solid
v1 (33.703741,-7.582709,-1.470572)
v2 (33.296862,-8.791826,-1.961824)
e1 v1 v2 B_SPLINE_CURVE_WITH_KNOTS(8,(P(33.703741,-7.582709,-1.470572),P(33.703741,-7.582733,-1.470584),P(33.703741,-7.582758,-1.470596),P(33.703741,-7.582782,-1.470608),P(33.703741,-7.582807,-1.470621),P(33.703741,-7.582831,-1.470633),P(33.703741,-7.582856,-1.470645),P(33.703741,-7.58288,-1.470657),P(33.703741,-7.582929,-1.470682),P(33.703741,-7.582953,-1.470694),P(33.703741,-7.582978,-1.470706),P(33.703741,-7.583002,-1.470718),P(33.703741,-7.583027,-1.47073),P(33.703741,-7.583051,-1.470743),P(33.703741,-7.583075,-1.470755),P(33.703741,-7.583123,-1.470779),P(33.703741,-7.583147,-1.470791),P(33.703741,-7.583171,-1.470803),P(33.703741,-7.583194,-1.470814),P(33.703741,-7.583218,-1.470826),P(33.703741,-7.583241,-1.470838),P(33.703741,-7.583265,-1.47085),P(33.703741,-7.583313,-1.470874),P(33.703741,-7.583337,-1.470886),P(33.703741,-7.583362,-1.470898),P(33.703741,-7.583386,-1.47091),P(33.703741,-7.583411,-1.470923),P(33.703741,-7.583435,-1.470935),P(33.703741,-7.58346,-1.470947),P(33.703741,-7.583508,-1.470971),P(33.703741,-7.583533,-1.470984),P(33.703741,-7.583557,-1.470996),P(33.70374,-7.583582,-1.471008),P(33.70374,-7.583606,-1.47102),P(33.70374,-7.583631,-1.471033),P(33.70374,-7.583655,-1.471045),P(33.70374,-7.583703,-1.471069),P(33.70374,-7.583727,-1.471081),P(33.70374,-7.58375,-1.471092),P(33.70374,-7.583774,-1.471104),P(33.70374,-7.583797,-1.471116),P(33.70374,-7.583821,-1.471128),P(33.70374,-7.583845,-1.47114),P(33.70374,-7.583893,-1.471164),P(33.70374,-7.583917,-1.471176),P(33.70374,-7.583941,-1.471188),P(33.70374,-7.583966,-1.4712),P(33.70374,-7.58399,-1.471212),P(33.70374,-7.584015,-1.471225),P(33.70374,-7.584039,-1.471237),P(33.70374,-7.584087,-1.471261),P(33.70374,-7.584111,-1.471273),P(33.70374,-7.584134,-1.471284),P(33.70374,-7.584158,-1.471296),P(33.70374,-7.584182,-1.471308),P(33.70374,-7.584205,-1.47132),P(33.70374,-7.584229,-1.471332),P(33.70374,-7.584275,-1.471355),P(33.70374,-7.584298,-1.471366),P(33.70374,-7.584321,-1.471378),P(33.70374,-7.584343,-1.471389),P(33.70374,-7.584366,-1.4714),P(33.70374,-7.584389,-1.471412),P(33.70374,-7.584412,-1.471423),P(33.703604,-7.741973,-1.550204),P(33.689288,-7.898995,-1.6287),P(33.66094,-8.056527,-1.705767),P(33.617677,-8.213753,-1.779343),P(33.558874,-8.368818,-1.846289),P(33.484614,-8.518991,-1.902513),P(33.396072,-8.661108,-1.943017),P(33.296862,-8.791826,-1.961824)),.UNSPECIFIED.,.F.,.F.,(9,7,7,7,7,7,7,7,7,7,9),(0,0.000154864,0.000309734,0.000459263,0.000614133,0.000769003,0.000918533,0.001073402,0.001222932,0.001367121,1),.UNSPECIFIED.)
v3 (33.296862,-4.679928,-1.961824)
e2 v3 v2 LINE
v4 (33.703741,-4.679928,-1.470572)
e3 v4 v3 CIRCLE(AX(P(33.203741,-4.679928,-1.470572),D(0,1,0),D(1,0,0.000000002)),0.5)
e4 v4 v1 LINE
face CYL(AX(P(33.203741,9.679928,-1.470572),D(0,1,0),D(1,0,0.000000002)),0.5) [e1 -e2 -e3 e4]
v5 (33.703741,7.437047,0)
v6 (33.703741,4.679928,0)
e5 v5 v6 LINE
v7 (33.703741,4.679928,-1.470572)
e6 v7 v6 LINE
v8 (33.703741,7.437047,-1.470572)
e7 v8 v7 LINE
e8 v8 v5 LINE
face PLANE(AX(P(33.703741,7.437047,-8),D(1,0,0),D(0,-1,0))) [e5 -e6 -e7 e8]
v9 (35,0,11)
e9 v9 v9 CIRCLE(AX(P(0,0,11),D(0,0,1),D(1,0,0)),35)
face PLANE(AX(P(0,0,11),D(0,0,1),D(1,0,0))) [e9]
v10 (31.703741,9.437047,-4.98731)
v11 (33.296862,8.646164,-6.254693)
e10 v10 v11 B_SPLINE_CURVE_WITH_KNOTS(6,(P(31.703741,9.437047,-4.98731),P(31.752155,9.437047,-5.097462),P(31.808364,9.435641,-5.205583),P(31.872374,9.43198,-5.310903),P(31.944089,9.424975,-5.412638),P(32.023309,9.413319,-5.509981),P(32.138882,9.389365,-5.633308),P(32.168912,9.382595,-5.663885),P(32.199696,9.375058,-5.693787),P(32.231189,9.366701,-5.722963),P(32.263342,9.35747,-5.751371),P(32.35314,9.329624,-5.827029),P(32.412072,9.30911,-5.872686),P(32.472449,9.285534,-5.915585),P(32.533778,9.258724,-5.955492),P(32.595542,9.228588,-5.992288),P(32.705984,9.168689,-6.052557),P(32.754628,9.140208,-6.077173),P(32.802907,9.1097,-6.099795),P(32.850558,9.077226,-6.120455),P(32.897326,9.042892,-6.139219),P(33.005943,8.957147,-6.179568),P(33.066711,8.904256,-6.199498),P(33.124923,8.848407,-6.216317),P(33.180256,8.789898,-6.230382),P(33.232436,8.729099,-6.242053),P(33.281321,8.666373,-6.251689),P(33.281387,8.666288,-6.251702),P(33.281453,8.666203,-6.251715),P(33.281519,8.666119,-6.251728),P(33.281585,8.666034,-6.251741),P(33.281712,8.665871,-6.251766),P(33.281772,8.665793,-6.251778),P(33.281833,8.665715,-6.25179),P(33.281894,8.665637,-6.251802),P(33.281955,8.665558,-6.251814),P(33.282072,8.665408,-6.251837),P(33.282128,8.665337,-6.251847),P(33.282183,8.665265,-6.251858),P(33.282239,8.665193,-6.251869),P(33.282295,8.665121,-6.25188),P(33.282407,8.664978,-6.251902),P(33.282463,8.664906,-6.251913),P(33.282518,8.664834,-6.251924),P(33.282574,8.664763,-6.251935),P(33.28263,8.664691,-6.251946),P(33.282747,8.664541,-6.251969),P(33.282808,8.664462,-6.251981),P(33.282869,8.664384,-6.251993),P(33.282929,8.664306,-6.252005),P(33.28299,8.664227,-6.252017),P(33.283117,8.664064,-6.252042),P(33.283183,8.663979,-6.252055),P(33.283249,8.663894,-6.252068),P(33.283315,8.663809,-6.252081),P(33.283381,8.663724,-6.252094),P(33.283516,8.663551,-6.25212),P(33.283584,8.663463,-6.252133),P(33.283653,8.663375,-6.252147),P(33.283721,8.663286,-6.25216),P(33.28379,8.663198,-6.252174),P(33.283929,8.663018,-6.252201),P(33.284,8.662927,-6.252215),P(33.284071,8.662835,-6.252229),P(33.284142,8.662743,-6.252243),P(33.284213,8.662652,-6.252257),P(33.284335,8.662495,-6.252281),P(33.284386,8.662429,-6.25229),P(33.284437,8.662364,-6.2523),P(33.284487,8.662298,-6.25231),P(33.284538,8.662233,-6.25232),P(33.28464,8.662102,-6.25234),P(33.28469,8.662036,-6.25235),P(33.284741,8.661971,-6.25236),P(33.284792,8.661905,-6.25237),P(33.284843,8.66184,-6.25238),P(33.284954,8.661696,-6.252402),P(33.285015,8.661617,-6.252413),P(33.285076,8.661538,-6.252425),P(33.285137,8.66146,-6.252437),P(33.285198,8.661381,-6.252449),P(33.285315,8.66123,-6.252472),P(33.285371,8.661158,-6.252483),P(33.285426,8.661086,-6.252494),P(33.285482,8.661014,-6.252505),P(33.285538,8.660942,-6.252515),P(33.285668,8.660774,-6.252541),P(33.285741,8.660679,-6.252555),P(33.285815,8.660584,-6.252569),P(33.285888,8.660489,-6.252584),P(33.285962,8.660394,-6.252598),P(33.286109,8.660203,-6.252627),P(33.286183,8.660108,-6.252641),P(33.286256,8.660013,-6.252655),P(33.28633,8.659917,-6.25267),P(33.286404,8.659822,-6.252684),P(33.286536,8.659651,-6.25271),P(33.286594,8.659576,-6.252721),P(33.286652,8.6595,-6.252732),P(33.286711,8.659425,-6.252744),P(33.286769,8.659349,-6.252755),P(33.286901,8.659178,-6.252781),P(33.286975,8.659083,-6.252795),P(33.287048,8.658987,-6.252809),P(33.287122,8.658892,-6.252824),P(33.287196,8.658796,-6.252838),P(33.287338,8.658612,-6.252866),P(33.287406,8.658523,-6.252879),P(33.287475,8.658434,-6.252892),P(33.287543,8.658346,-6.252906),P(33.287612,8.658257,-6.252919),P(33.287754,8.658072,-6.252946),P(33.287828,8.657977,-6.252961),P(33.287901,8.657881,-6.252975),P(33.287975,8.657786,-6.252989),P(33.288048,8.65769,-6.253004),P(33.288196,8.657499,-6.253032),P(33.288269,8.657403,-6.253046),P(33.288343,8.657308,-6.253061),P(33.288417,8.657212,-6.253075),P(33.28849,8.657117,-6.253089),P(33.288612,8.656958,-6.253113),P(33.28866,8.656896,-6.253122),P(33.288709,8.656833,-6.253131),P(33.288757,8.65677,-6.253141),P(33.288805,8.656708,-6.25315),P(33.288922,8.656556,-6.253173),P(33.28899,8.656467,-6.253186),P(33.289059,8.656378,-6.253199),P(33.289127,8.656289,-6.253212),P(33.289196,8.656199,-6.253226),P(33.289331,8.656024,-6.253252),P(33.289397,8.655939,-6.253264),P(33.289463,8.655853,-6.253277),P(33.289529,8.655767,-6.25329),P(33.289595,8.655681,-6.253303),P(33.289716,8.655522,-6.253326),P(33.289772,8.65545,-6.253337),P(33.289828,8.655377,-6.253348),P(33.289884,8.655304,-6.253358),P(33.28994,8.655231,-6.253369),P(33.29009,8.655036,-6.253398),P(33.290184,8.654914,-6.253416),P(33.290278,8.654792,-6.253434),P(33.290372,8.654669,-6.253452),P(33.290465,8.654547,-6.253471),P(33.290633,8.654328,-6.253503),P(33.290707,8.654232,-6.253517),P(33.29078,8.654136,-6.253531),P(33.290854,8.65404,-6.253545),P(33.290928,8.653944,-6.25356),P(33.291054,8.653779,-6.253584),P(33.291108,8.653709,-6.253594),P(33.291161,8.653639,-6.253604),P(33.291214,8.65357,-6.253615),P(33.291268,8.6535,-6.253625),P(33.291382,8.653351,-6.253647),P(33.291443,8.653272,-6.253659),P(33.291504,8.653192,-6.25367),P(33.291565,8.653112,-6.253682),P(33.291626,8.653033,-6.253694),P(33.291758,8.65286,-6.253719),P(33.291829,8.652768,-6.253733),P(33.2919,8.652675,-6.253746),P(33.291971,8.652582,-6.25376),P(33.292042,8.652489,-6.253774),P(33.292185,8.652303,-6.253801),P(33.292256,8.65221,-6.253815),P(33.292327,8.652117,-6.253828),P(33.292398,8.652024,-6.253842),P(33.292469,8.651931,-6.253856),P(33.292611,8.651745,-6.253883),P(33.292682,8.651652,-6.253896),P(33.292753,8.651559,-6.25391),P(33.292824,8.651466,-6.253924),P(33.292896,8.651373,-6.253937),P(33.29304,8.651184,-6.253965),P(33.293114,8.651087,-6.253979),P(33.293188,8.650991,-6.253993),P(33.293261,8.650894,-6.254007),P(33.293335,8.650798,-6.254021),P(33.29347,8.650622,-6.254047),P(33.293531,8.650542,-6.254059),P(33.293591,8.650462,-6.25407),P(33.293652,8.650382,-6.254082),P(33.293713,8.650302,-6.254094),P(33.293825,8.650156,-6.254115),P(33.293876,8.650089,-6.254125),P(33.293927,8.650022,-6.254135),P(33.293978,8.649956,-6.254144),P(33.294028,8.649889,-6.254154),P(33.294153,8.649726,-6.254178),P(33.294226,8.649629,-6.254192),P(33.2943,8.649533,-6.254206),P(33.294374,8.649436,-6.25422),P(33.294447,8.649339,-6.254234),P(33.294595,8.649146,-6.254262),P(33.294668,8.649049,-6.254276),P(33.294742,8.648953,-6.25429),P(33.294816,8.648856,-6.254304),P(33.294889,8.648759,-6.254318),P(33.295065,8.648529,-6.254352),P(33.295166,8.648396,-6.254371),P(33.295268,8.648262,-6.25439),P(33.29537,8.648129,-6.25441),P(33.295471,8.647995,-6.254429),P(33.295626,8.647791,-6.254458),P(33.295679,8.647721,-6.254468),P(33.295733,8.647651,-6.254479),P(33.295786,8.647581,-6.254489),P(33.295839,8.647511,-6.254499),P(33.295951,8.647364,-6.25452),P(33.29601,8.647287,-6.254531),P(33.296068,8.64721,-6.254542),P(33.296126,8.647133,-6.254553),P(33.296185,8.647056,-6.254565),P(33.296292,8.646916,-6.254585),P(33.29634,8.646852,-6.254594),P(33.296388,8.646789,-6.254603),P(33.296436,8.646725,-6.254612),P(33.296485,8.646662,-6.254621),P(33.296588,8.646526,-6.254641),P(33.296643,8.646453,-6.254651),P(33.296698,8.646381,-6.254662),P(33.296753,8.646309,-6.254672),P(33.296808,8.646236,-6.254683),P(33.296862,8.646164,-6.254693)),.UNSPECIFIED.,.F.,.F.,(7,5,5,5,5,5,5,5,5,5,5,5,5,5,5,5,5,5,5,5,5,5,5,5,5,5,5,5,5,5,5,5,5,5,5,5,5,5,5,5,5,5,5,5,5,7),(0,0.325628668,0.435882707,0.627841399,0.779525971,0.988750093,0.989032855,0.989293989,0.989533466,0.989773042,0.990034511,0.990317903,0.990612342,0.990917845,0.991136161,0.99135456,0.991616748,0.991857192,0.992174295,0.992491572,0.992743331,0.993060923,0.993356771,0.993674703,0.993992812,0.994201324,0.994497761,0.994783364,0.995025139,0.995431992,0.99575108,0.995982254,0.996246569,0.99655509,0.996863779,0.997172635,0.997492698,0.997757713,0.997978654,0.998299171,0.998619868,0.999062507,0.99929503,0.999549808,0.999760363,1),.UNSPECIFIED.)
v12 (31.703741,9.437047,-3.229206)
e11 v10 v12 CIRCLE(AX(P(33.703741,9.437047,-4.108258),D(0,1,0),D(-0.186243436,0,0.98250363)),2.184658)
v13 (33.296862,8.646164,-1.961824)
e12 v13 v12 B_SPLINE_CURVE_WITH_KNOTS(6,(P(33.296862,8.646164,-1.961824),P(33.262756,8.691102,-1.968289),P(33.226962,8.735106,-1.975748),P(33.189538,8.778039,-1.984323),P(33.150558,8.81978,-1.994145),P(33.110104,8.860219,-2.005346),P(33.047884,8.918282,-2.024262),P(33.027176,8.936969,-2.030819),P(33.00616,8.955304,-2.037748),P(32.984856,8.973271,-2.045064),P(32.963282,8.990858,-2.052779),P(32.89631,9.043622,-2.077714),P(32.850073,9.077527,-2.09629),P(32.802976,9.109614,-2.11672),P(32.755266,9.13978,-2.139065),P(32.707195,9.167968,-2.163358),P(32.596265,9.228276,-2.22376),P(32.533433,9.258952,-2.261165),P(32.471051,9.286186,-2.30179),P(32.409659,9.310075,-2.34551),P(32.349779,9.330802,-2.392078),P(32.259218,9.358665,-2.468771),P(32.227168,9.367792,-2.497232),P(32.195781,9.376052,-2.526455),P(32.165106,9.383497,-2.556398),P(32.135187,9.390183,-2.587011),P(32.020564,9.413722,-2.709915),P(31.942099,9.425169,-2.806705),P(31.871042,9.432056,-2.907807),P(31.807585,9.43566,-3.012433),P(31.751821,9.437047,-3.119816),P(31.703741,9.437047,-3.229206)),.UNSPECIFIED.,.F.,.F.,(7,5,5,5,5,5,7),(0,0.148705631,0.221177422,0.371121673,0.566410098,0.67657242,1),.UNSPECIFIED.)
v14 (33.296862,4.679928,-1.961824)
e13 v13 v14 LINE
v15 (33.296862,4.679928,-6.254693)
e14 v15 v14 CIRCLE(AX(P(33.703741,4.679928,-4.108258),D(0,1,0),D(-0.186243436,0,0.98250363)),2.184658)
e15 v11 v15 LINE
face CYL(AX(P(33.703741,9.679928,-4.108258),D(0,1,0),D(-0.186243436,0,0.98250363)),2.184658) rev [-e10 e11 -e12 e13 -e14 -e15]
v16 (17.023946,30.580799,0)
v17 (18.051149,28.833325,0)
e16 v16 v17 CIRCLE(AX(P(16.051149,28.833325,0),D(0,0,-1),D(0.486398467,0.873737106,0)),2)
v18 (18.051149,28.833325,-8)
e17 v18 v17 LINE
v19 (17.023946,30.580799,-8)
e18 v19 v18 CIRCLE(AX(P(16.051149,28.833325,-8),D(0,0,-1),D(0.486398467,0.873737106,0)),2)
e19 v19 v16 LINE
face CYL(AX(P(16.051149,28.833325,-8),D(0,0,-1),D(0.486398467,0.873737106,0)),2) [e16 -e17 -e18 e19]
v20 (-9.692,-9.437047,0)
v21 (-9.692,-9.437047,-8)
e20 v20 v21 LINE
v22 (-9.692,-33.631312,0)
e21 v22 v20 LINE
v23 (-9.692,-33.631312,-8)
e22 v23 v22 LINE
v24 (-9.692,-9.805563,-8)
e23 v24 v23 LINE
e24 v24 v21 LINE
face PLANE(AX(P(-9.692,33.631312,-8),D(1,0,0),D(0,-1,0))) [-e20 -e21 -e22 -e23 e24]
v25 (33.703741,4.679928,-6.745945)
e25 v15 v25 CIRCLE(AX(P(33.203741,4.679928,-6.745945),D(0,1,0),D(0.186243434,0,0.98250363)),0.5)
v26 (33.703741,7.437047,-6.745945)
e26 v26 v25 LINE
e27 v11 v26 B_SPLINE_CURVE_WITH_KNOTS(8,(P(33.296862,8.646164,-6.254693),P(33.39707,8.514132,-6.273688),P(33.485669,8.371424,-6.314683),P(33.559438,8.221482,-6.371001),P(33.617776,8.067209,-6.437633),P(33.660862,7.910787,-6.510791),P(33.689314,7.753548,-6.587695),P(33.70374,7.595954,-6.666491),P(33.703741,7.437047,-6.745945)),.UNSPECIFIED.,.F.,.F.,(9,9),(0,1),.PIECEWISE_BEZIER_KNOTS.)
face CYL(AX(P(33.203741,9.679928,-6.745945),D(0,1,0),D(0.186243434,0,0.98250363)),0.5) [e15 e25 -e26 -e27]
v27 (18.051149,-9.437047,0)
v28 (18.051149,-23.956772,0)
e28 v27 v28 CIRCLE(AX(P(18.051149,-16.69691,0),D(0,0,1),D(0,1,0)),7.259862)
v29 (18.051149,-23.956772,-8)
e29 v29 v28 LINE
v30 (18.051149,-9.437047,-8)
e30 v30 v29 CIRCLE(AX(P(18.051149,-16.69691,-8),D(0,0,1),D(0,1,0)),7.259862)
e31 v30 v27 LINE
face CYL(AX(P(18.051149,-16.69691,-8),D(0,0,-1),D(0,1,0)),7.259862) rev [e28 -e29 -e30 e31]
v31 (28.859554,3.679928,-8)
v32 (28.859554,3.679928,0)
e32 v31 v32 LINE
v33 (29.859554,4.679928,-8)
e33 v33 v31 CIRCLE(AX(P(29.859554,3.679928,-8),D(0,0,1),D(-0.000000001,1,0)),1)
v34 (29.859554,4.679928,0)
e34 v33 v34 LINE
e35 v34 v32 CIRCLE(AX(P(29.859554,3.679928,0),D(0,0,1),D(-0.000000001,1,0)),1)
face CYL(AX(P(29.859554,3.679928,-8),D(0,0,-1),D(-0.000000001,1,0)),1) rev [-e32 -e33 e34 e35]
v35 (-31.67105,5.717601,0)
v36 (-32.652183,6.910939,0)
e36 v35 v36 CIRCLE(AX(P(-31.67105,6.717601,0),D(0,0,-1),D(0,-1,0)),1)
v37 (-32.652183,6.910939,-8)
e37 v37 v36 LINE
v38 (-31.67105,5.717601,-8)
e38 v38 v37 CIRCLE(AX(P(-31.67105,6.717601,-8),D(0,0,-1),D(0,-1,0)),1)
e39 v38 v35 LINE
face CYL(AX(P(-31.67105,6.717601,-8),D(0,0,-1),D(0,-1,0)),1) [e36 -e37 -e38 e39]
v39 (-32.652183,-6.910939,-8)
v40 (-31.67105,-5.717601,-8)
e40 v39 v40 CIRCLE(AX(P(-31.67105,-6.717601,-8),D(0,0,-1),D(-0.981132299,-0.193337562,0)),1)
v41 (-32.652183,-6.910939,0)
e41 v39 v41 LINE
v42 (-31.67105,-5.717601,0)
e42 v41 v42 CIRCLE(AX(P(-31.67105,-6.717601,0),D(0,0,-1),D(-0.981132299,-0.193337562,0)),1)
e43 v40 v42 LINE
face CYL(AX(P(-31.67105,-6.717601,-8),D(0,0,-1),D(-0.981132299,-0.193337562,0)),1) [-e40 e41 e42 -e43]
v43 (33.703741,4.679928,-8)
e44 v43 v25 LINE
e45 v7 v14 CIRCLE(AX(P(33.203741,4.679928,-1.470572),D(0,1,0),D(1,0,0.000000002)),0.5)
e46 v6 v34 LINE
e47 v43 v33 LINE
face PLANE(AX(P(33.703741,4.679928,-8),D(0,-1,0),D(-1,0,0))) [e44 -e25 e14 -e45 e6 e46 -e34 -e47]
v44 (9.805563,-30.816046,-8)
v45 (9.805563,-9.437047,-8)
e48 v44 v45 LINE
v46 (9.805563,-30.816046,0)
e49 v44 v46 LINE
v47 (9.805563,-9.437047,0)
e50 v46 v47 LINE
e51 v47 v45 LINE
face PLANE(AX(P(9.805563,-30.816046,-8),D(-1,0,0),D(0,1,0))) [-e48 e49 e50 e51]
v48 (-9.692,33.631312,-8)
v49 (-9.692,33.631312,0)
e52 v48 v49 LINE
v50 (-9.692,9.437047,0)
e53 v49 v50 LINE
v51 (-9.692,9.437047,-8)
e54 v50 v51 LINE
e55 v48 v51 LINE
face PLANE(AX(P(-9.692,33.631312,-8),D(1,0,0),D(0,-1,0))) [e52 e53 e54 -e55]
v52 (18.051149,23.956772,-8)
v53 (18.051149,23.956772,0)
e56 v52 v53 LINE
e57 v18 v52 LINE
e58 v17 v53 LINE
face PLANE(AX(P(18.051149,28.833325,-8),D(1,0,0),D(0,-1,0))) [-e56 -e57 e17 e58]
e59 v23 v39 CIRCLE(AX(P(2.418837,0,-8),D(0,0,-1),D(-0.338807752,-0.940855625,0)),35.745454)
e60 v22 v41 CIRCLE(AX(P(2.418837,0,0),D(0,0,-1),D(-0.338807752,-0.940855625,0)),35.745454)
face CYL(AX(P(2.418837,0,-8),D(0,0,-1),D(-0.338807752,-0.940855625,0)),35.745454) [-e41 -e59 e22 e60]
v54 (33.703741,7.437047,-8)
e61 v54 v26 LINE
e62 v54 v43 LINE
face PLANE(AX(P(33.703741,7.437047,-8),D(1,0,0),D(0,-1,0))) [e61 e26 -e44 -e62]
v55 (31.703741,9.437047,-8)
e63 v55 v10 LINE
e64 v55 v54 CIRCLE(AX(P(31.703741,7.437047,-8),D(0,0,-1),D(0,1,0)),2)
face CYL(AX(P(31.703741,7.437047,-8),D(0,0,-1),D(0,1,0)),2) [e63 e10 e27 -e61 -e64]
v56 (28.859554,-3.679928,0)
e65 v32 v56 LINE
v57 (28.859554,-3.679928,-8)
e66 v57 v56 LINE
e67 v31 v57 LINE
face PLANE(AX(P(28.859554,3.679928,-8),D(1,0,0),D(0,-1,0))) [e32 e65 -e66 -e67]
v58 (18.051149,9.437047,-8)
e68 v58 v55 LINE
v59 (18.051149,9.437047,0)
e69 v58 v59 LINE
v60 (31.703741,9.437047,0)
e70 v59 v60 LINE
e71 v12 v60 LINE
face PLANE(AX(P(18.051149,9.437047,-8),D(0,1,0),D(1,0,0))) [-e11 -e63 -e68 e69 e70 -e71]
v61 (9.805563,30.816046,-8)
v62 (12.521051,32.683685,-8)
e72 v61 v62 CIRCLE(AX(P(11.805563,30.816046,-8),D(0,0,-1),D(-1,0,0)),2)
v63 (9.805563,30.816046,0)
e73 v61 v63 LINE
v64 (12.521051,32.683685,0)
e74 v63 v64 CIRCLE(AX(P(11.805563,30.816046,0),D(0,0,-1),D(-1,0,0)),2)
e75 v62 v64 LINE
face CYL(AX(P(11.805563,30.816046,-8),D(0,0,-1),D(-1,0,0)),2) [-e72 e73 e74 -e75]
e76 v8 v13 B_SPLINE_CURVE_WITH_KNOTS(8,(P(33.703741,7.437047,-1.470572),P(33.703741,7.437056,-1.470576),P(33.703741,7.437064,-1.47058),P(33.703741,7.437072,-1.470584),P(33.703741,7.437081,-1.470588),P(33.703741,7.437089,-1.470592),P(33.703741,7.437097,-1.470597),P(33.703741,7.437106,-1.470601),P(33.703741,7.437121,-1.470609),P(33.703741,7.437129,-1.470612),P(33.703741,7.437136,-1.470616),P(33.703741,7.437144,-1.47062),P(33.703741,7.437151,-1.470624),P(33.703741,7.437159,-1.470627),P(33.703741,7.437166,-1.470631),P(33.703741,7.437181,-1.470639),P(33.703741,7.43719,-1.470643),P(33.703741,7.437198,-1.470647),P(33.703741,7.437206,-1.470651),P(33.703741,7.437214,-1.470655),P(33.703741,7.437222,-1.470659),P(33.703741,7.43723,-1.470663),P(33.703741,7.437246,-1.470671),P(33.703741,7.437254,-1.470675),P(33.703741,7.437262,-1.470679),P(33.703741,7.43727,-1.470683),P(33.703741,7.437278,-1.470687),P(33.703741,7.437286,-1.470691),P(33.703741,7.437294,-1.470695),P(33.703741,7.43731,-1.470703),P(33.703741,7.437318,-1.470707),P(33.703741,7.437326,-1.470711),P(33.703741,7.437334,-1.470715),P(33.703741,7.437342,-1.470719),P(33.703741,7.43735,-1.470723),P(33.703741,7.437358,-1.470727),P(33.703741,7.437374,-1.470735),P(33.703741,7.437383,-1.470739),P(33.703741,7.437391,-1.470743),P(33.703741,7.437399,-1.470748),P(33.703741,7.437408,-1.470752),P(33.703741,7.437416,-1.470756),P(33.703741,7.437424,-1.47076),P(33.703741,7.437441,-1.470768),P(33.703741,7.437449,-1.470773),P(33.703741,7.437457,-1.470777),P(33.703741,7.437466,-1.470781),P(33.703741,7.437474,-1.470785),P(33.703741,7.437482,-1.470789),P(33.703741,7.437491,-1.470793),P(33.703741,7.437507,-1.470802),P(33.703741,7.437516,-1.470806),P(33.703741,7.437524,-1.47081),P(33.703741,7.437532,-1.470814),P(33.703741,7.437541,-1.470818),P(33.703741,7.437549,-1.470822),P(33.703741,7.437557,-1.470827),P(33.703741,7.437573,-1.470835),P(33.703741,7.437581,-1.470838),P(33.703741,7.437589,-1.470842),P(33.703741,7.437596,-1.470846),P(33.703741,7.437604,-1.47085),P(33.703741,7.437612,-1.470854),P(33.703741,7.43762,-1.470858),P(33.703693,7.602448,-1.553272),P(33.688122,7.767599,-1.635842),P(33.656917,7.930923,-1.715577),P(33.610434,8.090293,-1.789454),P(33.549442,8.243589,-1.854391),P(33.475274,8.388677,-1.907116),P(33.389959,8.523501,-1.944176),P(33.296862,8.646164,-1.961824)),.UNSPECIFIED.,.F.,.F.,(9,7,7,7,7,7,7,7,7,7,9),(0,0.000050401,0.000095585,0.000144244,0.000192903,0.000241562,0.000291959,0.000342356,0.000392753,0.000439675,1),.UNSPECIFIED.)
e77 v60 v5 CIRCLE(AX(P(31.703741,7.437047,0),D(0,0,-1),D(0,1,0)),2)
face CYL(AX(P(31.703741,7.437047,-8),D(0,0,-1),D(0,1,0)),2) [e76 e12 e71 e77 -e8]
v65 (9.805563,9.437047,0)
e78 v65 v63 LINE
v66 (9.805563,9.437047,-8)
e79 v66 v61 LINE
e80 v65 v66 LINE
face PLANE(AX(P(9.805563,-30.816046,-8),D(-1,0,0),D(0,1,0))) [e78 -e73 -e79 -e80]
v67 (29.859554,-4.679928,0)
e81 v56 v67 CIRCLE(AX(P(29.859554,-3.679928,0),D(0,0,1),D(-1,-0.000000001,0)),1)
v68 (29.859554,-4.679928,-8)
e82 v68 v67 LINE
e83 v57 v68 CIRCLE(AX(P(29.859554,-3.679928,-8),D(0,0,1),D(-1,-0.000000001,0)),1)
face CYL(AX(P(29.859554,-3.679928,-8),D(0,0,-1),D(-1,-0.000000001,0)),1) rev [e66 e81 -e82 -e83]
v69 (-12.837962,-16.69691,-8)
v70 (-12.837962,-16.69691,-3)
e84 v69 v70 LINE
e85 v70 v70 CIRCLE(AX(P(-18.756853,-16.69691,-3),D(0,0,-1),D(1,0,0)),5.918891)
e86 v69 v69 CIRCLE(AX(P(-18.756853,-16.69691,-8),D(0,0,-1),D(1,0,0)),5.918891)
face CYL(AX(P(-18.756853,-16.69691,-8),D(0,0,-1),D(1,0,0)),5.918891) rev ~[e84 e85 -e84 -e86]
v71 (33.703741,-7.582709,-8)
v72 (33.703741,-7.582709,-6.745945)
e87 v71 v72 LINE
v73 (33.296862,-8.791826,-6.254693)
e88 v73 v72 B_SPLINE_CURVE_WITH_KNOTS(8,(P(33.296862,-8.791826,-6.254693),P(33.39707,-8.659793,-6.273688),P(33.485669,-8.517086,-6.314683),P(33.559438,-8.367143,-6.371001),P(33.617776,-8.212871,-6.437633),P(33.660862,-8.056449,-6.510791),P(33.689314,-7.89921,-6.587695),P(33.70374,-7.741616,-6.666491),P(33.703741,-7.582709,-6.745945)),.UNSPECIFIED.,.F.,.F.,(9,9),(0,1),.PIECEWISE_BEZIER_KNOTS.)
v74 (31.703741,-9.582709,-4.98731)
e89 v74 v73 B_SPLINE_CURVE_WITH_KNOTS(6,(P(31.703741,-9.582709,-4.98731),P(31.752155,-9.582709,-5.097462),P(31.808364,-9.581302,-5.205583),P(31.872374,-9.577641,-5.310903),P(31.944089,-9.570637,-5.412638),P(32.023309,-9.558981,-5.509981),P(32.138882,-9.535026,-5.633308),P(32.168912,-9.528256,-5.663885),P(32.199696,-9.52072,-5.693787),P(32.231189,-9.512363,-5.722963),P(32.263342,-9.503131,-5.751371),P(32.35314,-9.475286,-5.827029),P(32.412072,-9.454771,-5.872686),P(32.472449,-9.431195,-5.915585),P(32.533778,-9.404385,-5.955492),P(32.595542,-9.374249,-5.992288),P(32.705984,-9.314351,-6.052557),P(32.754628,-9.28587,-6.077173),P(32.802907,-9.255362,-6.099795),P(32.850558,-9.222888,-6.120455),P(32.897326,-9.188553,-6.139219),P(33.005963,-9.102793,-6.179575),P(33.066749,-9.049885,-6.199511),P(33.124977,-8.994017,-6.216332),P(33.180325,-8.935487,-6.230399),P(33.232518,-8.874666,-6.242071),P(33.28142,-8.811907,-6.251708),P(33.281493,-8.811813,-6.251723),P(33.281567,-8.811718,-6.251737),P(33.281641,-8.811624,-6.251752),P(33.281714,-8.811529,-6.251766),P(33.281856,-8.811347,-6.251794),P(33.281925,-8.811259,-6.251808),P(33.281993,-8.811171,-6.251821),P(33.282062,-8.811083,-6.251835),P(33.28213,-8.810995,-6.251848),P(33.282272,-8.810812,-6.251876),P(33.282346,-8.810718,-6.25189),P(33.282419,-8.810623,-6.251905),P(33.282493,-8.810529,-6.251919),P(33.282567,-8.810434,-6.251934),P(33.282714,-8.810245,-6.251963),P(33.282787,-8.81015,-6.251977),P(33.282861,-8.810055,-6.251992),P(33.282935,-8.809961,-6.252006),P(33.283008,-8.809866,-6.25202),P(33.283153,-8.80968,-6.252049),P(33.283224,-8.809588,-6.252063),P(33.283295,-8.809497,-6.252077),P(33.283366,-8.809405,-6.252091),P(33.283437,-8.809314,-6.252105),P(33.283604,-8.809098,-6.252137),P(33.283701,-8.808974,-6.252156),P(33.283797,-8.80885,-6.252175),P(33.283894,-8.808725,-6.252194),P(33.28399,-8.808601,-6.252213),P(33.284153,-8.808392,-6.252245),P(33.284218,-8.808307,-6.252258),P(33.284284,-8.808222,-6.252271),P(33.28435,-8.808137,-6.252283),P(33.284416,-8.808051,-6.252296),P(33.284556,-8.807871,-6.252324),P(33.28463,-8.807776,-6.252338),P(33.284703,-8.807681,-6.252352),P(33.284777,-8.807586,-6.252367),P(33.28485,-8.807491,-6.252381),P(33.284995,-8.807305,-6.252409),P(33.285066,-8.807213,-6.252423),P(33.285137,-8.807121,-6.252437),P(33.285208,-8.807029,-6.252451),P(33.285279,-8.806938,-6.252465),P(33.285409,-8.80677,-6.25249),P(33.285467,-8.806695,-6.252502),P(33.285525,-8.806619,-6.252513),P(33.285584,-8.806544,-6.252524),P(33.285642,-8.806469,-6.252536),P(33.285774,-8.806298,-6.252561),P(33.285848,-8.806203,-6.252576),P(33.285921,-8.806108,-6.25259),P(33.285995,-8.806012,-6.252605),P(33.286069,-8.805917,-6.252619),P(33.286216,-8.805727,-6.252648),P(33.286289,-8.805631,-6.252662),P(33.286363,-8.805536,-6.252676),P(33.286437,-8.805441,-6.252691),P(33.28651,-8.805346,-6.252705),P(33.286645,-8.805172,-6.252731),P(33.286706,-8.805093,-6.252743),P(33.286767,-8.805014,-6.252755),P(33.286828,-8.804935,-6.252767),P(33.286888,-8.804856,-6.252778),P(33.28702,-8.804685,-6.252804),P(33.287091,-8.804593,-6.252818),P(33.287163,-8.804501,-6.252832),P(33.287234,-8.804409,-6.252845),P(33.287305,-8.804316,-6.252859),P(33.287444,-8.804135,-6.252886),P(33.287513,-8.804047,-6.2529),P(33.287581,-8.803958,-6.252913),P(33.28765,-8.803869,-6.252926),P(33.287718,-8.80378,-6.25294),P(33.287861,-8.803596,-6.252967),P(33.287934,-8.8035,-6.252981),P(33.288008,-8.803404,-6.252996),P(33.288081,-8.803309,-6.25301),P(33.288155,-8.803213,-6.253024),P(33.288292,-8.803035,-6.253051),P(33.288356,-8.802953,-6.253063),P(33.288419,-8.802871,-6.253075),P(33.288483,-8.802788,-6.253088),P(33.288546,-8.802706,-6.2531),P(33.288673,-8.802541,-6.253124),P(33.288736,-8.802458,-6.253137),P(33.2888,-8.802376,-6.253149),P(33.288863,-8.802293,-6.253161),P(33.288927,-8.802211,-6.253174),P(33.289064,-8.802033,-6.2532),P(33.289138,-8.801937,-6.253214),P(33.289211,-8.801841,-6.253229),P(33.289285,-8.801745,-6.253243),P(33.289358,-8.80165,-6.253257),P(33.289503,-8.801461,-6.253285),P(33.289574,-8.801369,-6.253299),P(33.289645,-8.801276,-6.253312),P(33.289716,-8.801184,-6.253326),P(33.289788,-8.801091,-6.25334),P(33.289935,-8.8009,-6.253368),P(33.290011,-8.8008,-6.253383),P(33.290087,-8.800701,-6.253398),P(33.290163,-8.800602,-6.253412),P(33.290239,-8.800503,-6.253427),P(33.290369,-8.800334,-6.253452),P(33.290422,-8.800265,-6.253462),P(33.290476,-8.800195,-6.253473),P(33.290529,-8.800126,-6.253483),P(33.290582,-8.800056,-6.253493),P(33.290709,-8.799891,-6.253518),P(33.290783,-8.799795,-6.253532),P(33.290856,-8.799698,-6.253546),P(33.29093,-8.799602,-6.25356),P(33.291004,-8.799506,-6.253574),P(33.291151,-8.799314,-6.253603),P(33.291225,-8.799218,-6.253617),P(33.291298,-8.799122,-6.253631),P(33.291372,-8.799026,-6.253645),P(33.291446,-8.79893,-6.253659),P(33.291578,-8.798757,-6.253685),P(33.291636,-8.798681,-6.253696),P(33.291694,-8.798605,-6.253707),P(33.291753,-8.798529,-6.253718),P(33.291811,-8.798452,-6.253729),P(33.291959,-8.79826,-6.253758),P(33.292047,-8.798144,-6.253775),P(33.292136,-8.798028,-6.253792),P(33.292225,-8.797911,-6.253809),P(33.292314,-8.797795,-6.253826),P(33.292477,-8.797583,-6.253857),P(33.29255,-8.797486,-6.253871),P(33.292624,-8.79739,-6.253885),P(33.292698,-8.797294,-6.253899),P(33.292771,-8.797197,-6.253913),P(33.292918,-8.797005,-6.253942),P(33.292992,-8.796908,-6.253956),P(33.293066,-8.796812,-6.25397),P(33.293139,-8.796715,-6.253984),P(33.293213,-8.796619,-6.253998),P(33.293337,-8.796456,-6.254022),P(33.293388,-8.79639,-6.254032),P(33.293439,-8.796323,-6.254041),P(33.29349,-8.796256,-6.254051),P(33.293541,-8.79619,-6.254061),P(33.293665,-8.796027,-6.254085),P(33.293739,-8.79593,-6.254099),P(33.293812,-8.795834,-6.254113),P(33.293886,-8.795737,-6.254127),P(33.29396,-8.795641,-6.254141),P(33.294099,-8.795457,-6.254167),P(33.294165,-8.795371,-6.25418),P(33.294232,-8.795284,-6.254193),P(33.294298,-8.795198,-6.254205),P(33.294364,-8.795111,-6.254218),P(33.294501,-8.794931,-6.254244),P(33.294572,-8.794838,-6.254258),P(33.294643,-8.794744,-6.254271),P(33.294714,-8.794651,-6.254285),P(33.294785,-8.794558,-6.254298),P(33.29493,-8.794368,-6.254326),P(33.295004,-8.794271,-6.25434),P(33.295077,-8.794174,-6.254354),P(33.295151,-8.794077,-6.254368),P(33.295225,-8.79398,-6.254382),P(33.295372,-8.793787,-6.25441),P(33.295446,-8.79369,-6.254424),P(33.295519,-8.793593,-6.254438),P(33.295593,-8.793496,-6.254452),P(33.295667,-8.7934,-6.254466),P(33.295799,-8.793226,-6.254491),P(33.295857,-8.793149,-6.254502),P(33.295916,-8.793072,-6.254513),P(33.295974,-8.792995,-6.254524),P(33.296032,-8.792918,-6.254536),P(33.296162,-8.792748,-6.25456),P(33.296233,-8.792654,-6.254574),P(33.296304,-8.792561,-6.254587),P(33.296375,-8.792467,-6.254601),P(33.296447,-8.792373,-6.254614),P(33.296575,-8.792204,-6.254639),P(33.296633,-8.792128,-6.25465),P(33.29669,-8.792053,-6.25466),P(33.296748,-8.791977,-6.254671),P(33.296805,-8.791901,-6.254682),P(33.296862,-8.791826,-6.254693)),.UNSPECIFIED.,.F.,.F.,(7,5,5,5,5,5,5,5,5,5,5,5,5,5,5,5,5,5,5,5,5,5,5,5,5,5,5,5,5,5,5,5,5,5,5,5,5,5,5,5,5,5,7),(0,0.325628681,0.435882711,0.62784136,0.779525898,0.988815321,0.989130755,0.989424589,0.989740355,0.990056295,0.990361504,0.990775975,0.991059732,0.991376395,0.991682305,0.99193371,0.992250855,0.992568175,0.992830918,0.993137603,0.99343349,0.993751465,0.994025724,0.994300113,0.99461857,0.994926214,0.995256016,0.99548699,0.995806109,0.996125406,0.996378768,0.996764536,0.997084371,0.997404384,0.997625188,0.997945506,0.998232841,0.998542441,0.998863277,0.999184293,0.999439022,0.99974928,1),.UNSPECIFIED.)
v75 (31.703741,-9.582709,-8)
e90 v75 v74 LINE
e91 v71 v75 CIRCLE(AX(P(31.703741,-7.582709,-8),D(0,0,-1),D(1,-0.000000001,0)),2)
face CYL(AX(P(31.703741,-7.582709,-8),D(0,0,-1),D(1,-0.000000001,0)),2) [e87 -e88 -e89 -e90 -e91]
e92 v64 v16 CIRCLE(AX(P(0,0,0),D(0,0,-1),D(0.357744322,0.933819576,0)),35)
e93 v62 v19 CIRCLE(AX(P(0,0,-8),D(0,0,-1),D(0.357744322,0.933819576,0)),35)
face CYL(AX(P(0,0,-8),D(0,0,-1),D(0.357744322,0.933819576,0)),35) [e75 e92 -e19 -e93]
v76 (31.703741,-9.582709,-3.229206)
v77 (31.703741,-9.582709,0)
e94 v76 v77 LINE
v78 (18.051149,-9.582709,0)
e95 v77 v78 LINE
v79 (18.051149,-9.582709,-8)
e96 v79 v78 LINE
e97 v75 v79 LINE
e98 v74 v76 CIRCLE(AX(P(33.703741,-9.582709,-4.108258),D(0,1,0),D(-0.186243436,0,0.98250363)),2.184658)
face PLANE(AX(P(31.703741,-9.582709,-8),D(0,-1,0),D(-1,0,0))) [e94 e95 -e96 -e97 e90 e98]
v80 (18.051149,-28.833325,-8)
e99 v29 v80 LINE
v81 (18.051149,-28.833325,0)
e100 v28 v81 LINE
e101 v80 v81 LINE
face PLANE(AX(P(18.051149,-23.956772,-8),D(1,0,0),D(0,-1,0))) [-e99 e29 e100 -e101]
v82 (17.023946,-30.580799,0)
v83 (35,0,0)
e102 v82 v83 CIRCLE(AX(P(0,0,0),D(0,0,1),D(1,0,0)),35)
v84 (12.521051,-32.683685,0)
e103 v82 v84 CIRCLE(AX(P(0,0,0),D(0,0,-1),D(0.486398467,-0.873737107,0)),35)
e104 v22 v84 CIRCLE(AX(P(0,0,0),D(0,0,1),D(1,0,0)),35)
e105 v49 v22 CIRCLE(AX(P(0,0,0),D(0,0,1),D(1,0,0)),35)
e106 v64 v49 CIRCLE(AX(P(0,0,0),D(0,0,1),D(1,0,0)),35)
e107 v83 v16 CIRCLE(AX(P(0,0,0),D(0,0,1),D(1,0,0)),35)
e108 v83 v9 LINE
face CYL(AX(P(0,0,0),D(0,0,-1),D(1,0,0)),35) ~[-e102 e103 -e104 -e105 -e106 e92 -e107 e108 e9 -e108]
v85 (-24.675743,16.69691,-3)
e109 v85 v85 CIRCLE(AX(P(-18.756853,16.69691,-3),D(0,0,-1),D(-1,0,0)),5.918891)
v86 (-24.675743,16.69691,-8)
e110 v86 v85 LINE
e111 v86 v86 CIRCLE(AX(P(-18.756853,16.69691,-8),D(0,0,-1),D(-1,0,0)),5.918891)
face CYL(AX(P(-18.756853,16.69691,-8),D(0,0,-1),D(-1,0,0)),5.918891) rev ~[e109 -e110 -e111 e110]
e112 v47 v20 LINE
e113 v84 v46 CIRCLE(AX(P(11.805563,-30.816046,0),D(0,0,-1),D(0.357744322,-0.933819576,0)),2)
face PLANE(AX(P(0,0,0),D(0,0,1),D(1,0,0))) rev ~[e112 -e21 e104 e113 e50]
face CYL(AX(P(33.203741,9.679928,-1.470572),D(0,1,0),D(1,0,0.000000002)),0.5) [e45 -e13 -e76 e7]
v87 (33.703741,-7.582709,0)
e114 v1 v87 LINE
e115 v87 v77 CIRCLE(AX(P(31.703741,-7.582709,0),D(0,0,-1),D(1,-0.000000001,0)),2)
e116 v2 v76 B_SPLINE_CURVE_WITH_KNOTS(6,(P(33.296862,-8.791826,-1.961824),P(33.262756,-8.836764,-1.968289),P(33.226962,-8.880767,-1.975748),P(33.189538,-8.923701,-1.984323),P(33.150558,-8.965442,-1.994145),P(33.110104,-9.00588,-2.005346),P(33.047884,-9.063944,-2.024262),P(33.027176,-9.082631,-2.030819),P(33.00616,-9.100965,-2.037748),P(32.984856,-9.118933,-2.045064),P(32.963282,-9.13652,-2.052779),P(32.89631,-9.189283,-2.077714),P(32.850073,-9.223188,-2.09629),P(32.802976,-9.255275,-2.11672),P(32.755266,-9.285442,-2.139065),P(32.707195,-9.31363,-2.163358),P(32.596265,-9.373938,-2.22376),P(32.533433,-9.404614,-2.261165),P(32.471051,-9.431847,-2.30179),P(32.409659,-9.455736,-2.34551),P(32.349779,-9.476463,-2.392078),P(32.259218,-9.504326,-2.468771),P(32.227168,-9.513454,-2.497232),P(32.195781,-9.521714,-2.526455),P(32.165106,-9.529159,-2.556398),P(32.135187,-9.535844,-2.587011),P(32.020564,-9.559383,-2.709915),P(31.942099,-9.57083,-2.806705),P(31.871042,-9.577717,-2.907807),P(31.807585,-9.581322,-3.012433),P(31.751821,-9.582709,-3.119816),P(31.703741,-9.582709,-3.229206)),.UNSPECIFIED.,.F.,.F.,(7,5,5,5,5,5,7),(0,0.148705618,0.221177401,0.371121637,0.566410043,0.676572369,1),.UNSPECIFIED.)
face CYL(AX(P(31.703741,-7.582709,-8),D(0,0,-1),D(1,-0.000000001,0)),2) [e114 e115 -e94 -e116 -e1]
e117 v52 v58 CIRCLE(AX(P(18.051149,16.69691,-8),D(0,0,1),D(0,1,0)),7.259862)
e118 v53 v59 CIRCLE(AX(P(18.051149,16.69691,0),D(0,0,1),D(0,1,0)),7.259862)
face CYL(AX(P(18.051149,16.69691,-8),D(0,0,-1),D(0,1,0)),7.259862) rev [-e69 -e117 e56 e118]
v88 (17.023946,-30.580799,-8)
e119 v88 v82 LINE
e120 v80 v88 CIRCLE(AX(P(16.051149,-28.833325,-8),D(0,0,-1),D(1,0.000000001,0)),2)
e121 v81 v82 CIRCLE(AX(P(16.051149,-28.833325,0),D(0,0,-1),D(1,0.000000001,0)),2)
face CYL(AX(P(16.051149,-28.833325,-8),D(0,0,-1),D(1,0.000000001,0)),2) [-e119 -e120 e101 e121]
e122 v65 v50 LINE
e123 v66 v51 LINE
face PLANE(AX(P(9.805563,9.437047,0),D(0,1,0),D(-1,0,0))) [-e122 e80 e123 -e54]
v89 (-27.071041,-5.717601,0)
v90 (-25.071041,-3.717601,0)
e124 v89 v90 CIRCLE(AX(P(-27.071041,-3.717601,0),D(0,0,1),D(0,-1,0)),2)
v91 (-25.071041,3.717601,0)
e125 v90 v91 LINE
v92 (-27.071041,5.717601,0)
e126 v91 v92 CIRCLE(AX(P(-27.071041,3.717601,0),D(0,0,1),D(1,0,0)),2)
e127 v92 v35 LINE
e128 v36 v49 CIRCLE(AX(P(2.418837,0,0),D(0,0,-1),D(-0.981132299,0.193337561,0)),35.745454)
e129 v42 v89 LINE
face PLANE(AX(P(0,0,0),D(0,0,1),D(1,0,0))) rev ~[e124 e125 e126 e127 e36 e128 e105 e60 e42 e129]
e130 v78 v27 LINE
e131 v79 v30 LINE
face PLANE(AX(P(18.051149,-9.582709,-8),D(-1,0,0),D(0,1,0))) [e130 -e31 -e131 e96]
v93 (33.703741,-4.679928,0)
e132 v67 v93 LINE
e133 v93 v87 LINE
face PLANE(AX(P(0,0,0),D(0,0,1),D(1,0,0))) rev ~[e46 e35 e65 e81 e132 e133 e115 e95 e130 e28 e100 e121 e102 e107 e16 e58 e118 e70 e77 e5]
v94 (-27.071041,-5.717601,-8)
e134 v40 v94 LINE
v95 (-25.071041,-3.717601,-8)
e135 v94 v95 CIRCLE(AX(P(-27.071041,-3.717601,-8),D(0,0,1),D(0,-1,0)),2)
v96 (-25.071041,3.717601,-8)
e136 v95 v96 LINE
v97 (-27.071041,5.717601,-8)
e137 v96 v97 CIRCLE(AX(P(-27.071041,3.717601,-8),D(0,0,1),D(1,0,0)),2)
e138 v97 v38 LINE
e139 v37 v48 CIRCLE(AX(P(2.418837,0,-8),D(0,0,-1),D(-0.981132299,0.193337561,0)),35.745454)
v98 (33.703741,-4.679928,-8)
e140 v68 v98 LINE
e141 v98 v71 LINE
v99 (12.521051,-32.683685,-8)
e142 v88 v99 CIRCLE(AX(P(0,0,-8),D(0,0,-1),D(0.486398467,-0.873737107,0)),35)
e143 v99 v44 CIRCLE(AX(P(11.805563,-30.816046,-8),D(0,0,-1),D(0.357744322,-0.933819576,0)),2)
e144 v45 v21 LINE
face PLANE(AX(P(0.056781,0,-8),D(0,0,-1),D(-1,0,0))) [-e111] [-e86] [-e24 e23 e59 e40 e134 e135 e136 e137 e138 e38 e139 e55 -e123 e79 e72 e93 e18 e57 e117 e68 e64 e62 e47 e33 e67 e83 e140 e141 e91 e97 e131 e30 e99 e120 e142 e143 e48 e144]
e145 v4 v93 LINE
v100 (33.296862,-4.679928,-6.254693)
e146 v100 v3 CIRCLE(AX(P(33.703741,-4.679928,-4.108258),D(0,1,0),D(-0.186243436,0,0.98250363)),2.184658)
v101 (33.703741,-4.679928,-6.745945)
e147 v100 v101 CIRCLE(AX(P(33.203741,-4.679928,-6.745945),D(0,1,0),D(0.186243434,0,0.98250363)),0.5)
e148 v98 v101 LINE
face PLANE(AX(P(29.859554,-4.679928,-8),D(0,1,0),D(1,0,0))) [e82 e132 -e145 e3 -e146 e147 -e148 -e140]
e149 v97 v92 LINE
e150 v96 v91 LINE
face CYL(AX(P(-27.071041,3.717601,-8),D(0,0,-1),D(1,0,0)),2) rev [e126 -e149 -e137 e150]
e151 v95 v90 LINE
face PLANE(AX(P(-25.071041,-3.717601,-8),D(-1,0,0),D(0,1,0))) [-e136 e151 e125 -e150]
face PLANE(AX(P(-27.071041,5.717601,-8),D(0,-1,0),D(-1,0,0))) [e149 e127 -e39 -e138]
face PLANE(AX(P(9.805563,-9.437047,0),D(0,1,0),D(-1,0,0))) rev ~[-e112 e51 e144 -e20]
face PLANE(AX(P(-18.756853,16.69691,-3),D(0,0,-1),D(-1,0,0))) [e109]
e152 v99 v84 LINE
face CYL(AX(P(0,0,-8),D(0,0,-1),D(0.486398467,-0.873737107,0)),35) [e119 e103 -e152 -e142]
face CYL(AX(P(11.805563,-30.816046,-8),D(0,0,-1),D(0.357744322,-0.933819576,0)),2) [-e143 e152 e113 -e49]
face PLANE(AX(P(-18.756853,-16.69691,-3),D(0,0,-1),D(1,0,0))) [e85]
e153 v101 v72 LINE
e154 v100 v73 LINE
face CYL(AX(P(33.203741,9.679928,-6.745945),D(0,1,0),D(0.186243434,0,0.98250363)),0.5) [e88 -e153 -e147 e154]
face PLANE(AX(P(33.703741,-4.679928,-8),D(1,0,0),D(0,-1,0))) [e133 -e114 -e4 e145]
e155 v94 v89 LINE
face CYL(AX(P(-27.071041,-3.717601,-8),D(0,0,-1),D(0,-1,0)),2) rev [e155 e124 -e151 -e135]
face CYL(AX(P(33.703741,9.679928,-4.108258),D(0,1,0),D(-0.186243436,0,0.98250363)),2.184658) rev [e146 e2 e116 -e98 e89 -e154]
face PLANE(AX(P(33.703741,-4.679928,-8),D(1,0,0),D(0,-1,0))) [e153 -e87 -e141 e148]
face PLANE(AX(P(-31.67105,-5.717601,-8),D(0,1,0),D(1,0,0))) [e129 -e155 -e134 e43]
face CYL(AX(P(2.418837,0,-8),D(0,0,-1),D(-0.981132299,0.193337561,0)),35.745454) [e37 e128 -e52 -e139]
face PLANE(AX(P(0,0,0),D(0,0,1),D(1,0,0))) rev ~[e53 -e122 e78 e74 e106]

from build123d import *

# Parameters (mm, degrees)
SKETCH1_R               = 35
BOSS_EXTRUDE1_DEPTH     = 11
BOSS_EXTRUDE2_START     = 8
SKETCH2_W               = 9.919125271
SKETCH2_H               = 19.24261003
BOSS_EXTRUDE2_DEPTH     = 8
SKETCH4_W               = 19.49756264
SKETCH4_H               = 18.874094786
BOSS_EXTRUDE3_DEPTH     = 8
SKETCH6_R               = 5.918890508
CUT_EXTRUDE1_DEPTH      = 5
CUT_EXTRUDE4_DEPTH      = 16
CUT_EXTRUDE4_DEPTH_BACK = 5


with BuildPart() as part:
    # Sketch1 → Boss-Extrude1 (new body)
    with BuildSketch(Plane.XY):
        Circle(SKETCH1_R)
    extrude(amount=BOSS_EXTRUDE1_DEPTH)

    # Sketch2 → Boss-Extrude2 (add)
    with BuildSketch(Plane(origin=(0, 0, 0), x_dir=(-1, 0, 0), z_dir=(0, 0, -1)).offset(BOSS_EXTRUDE2_START)):
        with BuildLine():
            Line((-18.0511494, 9.437047393), (-31.70374069, 9.437047393))
            ThreePointArc((-31.70374069, 9.437047393), (-33.117954252, 8.851260956), (-33.70374069, 7.437047393))
            Line((-33.70374069, 7.437047393), (-33.70374069, 4.679927622))
            Line((-33.70374069, 4.679927622), (-29.859553671, 4.679927622))
            ThreePointArc((-29.859553671, 4.679927622), (-29.15244689, 4.387034403), (-28.859553671, 3.679927622))
            Line((-28.859553671, 3.679927622), (-28.859553671, 0))
            Line((-28.859553671, 0), (-28.859553671, -3.679927622))
            ThreePointArc((-28.859553671, -3.679927622), (-29.15244689, -4.387034403), (-29.859553671, -4.679927622))
            Line((-29.859553671, -4.679927622), (-33.70374069, -4.679927622))
            Line((-33.70374069, -4.679927622), (-33.70374069, -7.582708941))
            ThreePointArc((-33.70374069, -7.582708941), (-33.117954252, -8.996922503), (-31.70374069, -9.582708941))
            Line((-31.70374069, -9.582708941), (-18.0511494, -9.582708941))
            Line((-18.0511494, -9.582708941), (-18.0511494, -9.437047393))
            ThreePointArc((-18.0511494, -9.437047393), (-10.791286921, -16.696909873), (-18.0511494, -23.956772352))
            Line((-18.0511494, -23.956772352), (-18.0511494, -28.833324521))
            ThreePointArc((-18.0511494, -28.833324521), (-17.775329476, -29.846834791), (-17.023946334, -30.580798734))
            ThreePointArc((-17.023946334, -30.580798734), (-14.809870149, -31.712264917), (-12.521051282, -32.683685147))
            ThreePointArc((-12.521051282, -32.683685147), (-10.672199785, -32.463919973), (-9.805562637, -30.816045996))
            Line((-9.805562637, -30.816045996), (-9.805562637, 9.437047393))
            Line((-9.805562637, 9.437047393), (-9.805562637, 30.816045996))
            ThreePointArc((-9.805562637, 30.816045996), (-10.672199785, 32.463919973), (-12.521051282, 32.683685147))
            ThreePointArc((-12.521051282, 32.683685147), (-14.809870149, 31.712264917), (-17.023946334, 30.580798734))
            ThreePointArc((-17.023946334, 30.580798734), (-17.775329476, 29.84683479), (-18.0511494, 28.833324521))
            Line((-18.0511494, 28.833324521), (-18.0511494, 23.956772352))
            ThreePointArc((-18.0511494, 23.956772352), (-10.791286921, 16.696909873), (-18.0511494, 9.437047393))
        make_face()
        with BuildLine():
            ThreePointArc((32.652182779, 6.91093898), (24.692534845, 23.296158989), (9.692000003, 33.631311838))
            Line((9.692000003, 33.631311838), (9.692000003, 9.437047393))
            Line((9.692000003, 9.437047393), (19.611125274, 9.437047393))
            Line((19.611125274, 9.437047393), (19.611125274, -9.805562637))
            Line((19.611125274, -9.805562637), (9.692000003, -9.805562637))
            Line((9.692000003, -9.805562637), (9.692000003, -33.631311838))
            ThreePointArc((9.692000003, -33.631311838), (24.692534845, -23.296158989), (32.652182779, -6.91093898))
            ThreePointArc((32.652182779, -6.91093898), (32.443493864, -6.082517787), (31.671050481, -5.717601419))
            Line((31.671050481, -5.717601419), (27.071040834, -5.717601419))
            ThreePointArc((27.071040834, -5.717601419), (25.656827271, -5.131814981), (25.071040834, -3.717601419))
            Line((25.071040834, -3.717601419), (25.071040834, 3.717601419))
            ThreePointArc((25.071040834, 3.717601419), (25.656827271, 5.131814981), (27.071040834, 5.717601419))
            Line((27.071040834, 5.717601419), (31.671050481, 5.717601419))
            ThreePointArc((31.671050481, 5.717601419), (32.443493864, 6.082517787), (32.652182779, 6.91093898))
        make_face()
        with Locations((14.651562639, -0.184257622)):
            Rectangle(SKETCH2_W, SKETCH2_H)
    extrude(amount=-BOSS_EXTRUDE2_DEPTH)

    # Sketch4 → Boss-Extrude3 (add)
    with BuildSketch(Plane(origin=(0, 0, 0), x_dir=(-1, 0, 0), z_dir=(0, 0, -1))):
        with Locations((-0.056781317, 0)):
            Rectangle(SKETCH4_W, SKETCH4_H)
    extrude(amount=BOSS_EXTRUDE3_DEPTH)

    # Sketch6 → Cut-Extrude1 (cut)
    with BuildSketch(Plane(origin=(0, 0, -8), x_dir=(-1, 0, 0), z_dir=(0, 0, -1))):
        with Locations((18.756852772, 16.696909873)):
            Circle(SKETCH6_R)
        with Locations(Location((18.756852772, -16.696909873, 0), (0, 0, 180))):
            Circle(SKETCH6_R)
    extrude(amount=-CUT_EXTRUDE1_DEPTH, mode=Mode.SUBTRACT)

    # Sketch11 → Cut-Extrude4 (cut, two sides: drawn at the far end of the back side and taken through both)
    with BuildSketch(Plane(origin=(0, 4.679927622, 0), x_dir=(-1, 0, 0), z_dir=(0, -1, 0)).offset(-CUT_EXTRUDE4_DEPTH_BACK)):
        with BuildLine():
            Line((-33.70374069, 6.745944891), (-33.70374069, 1.4705717))
            ThreePointArc((-33.70374069, 1.4705717), (-33.58881267, 1.789506757), (-33.296862408, 1.961823515))
            ThreePointArc((-33.296862408, 1.961823515), (-31.519082318, 4.108258295), (-33.296862408, 6.254693076))
            ThreePointArc((-33.296862408, 6.254693076), (-33.58881267, 6.427009834), (-33.70374069, 6.745944891))
        make_face()
    extrude(amount=CUT_EXTRUDE4_DEPTH + CUT_EXTRUDE4_DEPTH_BACK, mode=Mode.SUBTRACT)


solid = part.part
